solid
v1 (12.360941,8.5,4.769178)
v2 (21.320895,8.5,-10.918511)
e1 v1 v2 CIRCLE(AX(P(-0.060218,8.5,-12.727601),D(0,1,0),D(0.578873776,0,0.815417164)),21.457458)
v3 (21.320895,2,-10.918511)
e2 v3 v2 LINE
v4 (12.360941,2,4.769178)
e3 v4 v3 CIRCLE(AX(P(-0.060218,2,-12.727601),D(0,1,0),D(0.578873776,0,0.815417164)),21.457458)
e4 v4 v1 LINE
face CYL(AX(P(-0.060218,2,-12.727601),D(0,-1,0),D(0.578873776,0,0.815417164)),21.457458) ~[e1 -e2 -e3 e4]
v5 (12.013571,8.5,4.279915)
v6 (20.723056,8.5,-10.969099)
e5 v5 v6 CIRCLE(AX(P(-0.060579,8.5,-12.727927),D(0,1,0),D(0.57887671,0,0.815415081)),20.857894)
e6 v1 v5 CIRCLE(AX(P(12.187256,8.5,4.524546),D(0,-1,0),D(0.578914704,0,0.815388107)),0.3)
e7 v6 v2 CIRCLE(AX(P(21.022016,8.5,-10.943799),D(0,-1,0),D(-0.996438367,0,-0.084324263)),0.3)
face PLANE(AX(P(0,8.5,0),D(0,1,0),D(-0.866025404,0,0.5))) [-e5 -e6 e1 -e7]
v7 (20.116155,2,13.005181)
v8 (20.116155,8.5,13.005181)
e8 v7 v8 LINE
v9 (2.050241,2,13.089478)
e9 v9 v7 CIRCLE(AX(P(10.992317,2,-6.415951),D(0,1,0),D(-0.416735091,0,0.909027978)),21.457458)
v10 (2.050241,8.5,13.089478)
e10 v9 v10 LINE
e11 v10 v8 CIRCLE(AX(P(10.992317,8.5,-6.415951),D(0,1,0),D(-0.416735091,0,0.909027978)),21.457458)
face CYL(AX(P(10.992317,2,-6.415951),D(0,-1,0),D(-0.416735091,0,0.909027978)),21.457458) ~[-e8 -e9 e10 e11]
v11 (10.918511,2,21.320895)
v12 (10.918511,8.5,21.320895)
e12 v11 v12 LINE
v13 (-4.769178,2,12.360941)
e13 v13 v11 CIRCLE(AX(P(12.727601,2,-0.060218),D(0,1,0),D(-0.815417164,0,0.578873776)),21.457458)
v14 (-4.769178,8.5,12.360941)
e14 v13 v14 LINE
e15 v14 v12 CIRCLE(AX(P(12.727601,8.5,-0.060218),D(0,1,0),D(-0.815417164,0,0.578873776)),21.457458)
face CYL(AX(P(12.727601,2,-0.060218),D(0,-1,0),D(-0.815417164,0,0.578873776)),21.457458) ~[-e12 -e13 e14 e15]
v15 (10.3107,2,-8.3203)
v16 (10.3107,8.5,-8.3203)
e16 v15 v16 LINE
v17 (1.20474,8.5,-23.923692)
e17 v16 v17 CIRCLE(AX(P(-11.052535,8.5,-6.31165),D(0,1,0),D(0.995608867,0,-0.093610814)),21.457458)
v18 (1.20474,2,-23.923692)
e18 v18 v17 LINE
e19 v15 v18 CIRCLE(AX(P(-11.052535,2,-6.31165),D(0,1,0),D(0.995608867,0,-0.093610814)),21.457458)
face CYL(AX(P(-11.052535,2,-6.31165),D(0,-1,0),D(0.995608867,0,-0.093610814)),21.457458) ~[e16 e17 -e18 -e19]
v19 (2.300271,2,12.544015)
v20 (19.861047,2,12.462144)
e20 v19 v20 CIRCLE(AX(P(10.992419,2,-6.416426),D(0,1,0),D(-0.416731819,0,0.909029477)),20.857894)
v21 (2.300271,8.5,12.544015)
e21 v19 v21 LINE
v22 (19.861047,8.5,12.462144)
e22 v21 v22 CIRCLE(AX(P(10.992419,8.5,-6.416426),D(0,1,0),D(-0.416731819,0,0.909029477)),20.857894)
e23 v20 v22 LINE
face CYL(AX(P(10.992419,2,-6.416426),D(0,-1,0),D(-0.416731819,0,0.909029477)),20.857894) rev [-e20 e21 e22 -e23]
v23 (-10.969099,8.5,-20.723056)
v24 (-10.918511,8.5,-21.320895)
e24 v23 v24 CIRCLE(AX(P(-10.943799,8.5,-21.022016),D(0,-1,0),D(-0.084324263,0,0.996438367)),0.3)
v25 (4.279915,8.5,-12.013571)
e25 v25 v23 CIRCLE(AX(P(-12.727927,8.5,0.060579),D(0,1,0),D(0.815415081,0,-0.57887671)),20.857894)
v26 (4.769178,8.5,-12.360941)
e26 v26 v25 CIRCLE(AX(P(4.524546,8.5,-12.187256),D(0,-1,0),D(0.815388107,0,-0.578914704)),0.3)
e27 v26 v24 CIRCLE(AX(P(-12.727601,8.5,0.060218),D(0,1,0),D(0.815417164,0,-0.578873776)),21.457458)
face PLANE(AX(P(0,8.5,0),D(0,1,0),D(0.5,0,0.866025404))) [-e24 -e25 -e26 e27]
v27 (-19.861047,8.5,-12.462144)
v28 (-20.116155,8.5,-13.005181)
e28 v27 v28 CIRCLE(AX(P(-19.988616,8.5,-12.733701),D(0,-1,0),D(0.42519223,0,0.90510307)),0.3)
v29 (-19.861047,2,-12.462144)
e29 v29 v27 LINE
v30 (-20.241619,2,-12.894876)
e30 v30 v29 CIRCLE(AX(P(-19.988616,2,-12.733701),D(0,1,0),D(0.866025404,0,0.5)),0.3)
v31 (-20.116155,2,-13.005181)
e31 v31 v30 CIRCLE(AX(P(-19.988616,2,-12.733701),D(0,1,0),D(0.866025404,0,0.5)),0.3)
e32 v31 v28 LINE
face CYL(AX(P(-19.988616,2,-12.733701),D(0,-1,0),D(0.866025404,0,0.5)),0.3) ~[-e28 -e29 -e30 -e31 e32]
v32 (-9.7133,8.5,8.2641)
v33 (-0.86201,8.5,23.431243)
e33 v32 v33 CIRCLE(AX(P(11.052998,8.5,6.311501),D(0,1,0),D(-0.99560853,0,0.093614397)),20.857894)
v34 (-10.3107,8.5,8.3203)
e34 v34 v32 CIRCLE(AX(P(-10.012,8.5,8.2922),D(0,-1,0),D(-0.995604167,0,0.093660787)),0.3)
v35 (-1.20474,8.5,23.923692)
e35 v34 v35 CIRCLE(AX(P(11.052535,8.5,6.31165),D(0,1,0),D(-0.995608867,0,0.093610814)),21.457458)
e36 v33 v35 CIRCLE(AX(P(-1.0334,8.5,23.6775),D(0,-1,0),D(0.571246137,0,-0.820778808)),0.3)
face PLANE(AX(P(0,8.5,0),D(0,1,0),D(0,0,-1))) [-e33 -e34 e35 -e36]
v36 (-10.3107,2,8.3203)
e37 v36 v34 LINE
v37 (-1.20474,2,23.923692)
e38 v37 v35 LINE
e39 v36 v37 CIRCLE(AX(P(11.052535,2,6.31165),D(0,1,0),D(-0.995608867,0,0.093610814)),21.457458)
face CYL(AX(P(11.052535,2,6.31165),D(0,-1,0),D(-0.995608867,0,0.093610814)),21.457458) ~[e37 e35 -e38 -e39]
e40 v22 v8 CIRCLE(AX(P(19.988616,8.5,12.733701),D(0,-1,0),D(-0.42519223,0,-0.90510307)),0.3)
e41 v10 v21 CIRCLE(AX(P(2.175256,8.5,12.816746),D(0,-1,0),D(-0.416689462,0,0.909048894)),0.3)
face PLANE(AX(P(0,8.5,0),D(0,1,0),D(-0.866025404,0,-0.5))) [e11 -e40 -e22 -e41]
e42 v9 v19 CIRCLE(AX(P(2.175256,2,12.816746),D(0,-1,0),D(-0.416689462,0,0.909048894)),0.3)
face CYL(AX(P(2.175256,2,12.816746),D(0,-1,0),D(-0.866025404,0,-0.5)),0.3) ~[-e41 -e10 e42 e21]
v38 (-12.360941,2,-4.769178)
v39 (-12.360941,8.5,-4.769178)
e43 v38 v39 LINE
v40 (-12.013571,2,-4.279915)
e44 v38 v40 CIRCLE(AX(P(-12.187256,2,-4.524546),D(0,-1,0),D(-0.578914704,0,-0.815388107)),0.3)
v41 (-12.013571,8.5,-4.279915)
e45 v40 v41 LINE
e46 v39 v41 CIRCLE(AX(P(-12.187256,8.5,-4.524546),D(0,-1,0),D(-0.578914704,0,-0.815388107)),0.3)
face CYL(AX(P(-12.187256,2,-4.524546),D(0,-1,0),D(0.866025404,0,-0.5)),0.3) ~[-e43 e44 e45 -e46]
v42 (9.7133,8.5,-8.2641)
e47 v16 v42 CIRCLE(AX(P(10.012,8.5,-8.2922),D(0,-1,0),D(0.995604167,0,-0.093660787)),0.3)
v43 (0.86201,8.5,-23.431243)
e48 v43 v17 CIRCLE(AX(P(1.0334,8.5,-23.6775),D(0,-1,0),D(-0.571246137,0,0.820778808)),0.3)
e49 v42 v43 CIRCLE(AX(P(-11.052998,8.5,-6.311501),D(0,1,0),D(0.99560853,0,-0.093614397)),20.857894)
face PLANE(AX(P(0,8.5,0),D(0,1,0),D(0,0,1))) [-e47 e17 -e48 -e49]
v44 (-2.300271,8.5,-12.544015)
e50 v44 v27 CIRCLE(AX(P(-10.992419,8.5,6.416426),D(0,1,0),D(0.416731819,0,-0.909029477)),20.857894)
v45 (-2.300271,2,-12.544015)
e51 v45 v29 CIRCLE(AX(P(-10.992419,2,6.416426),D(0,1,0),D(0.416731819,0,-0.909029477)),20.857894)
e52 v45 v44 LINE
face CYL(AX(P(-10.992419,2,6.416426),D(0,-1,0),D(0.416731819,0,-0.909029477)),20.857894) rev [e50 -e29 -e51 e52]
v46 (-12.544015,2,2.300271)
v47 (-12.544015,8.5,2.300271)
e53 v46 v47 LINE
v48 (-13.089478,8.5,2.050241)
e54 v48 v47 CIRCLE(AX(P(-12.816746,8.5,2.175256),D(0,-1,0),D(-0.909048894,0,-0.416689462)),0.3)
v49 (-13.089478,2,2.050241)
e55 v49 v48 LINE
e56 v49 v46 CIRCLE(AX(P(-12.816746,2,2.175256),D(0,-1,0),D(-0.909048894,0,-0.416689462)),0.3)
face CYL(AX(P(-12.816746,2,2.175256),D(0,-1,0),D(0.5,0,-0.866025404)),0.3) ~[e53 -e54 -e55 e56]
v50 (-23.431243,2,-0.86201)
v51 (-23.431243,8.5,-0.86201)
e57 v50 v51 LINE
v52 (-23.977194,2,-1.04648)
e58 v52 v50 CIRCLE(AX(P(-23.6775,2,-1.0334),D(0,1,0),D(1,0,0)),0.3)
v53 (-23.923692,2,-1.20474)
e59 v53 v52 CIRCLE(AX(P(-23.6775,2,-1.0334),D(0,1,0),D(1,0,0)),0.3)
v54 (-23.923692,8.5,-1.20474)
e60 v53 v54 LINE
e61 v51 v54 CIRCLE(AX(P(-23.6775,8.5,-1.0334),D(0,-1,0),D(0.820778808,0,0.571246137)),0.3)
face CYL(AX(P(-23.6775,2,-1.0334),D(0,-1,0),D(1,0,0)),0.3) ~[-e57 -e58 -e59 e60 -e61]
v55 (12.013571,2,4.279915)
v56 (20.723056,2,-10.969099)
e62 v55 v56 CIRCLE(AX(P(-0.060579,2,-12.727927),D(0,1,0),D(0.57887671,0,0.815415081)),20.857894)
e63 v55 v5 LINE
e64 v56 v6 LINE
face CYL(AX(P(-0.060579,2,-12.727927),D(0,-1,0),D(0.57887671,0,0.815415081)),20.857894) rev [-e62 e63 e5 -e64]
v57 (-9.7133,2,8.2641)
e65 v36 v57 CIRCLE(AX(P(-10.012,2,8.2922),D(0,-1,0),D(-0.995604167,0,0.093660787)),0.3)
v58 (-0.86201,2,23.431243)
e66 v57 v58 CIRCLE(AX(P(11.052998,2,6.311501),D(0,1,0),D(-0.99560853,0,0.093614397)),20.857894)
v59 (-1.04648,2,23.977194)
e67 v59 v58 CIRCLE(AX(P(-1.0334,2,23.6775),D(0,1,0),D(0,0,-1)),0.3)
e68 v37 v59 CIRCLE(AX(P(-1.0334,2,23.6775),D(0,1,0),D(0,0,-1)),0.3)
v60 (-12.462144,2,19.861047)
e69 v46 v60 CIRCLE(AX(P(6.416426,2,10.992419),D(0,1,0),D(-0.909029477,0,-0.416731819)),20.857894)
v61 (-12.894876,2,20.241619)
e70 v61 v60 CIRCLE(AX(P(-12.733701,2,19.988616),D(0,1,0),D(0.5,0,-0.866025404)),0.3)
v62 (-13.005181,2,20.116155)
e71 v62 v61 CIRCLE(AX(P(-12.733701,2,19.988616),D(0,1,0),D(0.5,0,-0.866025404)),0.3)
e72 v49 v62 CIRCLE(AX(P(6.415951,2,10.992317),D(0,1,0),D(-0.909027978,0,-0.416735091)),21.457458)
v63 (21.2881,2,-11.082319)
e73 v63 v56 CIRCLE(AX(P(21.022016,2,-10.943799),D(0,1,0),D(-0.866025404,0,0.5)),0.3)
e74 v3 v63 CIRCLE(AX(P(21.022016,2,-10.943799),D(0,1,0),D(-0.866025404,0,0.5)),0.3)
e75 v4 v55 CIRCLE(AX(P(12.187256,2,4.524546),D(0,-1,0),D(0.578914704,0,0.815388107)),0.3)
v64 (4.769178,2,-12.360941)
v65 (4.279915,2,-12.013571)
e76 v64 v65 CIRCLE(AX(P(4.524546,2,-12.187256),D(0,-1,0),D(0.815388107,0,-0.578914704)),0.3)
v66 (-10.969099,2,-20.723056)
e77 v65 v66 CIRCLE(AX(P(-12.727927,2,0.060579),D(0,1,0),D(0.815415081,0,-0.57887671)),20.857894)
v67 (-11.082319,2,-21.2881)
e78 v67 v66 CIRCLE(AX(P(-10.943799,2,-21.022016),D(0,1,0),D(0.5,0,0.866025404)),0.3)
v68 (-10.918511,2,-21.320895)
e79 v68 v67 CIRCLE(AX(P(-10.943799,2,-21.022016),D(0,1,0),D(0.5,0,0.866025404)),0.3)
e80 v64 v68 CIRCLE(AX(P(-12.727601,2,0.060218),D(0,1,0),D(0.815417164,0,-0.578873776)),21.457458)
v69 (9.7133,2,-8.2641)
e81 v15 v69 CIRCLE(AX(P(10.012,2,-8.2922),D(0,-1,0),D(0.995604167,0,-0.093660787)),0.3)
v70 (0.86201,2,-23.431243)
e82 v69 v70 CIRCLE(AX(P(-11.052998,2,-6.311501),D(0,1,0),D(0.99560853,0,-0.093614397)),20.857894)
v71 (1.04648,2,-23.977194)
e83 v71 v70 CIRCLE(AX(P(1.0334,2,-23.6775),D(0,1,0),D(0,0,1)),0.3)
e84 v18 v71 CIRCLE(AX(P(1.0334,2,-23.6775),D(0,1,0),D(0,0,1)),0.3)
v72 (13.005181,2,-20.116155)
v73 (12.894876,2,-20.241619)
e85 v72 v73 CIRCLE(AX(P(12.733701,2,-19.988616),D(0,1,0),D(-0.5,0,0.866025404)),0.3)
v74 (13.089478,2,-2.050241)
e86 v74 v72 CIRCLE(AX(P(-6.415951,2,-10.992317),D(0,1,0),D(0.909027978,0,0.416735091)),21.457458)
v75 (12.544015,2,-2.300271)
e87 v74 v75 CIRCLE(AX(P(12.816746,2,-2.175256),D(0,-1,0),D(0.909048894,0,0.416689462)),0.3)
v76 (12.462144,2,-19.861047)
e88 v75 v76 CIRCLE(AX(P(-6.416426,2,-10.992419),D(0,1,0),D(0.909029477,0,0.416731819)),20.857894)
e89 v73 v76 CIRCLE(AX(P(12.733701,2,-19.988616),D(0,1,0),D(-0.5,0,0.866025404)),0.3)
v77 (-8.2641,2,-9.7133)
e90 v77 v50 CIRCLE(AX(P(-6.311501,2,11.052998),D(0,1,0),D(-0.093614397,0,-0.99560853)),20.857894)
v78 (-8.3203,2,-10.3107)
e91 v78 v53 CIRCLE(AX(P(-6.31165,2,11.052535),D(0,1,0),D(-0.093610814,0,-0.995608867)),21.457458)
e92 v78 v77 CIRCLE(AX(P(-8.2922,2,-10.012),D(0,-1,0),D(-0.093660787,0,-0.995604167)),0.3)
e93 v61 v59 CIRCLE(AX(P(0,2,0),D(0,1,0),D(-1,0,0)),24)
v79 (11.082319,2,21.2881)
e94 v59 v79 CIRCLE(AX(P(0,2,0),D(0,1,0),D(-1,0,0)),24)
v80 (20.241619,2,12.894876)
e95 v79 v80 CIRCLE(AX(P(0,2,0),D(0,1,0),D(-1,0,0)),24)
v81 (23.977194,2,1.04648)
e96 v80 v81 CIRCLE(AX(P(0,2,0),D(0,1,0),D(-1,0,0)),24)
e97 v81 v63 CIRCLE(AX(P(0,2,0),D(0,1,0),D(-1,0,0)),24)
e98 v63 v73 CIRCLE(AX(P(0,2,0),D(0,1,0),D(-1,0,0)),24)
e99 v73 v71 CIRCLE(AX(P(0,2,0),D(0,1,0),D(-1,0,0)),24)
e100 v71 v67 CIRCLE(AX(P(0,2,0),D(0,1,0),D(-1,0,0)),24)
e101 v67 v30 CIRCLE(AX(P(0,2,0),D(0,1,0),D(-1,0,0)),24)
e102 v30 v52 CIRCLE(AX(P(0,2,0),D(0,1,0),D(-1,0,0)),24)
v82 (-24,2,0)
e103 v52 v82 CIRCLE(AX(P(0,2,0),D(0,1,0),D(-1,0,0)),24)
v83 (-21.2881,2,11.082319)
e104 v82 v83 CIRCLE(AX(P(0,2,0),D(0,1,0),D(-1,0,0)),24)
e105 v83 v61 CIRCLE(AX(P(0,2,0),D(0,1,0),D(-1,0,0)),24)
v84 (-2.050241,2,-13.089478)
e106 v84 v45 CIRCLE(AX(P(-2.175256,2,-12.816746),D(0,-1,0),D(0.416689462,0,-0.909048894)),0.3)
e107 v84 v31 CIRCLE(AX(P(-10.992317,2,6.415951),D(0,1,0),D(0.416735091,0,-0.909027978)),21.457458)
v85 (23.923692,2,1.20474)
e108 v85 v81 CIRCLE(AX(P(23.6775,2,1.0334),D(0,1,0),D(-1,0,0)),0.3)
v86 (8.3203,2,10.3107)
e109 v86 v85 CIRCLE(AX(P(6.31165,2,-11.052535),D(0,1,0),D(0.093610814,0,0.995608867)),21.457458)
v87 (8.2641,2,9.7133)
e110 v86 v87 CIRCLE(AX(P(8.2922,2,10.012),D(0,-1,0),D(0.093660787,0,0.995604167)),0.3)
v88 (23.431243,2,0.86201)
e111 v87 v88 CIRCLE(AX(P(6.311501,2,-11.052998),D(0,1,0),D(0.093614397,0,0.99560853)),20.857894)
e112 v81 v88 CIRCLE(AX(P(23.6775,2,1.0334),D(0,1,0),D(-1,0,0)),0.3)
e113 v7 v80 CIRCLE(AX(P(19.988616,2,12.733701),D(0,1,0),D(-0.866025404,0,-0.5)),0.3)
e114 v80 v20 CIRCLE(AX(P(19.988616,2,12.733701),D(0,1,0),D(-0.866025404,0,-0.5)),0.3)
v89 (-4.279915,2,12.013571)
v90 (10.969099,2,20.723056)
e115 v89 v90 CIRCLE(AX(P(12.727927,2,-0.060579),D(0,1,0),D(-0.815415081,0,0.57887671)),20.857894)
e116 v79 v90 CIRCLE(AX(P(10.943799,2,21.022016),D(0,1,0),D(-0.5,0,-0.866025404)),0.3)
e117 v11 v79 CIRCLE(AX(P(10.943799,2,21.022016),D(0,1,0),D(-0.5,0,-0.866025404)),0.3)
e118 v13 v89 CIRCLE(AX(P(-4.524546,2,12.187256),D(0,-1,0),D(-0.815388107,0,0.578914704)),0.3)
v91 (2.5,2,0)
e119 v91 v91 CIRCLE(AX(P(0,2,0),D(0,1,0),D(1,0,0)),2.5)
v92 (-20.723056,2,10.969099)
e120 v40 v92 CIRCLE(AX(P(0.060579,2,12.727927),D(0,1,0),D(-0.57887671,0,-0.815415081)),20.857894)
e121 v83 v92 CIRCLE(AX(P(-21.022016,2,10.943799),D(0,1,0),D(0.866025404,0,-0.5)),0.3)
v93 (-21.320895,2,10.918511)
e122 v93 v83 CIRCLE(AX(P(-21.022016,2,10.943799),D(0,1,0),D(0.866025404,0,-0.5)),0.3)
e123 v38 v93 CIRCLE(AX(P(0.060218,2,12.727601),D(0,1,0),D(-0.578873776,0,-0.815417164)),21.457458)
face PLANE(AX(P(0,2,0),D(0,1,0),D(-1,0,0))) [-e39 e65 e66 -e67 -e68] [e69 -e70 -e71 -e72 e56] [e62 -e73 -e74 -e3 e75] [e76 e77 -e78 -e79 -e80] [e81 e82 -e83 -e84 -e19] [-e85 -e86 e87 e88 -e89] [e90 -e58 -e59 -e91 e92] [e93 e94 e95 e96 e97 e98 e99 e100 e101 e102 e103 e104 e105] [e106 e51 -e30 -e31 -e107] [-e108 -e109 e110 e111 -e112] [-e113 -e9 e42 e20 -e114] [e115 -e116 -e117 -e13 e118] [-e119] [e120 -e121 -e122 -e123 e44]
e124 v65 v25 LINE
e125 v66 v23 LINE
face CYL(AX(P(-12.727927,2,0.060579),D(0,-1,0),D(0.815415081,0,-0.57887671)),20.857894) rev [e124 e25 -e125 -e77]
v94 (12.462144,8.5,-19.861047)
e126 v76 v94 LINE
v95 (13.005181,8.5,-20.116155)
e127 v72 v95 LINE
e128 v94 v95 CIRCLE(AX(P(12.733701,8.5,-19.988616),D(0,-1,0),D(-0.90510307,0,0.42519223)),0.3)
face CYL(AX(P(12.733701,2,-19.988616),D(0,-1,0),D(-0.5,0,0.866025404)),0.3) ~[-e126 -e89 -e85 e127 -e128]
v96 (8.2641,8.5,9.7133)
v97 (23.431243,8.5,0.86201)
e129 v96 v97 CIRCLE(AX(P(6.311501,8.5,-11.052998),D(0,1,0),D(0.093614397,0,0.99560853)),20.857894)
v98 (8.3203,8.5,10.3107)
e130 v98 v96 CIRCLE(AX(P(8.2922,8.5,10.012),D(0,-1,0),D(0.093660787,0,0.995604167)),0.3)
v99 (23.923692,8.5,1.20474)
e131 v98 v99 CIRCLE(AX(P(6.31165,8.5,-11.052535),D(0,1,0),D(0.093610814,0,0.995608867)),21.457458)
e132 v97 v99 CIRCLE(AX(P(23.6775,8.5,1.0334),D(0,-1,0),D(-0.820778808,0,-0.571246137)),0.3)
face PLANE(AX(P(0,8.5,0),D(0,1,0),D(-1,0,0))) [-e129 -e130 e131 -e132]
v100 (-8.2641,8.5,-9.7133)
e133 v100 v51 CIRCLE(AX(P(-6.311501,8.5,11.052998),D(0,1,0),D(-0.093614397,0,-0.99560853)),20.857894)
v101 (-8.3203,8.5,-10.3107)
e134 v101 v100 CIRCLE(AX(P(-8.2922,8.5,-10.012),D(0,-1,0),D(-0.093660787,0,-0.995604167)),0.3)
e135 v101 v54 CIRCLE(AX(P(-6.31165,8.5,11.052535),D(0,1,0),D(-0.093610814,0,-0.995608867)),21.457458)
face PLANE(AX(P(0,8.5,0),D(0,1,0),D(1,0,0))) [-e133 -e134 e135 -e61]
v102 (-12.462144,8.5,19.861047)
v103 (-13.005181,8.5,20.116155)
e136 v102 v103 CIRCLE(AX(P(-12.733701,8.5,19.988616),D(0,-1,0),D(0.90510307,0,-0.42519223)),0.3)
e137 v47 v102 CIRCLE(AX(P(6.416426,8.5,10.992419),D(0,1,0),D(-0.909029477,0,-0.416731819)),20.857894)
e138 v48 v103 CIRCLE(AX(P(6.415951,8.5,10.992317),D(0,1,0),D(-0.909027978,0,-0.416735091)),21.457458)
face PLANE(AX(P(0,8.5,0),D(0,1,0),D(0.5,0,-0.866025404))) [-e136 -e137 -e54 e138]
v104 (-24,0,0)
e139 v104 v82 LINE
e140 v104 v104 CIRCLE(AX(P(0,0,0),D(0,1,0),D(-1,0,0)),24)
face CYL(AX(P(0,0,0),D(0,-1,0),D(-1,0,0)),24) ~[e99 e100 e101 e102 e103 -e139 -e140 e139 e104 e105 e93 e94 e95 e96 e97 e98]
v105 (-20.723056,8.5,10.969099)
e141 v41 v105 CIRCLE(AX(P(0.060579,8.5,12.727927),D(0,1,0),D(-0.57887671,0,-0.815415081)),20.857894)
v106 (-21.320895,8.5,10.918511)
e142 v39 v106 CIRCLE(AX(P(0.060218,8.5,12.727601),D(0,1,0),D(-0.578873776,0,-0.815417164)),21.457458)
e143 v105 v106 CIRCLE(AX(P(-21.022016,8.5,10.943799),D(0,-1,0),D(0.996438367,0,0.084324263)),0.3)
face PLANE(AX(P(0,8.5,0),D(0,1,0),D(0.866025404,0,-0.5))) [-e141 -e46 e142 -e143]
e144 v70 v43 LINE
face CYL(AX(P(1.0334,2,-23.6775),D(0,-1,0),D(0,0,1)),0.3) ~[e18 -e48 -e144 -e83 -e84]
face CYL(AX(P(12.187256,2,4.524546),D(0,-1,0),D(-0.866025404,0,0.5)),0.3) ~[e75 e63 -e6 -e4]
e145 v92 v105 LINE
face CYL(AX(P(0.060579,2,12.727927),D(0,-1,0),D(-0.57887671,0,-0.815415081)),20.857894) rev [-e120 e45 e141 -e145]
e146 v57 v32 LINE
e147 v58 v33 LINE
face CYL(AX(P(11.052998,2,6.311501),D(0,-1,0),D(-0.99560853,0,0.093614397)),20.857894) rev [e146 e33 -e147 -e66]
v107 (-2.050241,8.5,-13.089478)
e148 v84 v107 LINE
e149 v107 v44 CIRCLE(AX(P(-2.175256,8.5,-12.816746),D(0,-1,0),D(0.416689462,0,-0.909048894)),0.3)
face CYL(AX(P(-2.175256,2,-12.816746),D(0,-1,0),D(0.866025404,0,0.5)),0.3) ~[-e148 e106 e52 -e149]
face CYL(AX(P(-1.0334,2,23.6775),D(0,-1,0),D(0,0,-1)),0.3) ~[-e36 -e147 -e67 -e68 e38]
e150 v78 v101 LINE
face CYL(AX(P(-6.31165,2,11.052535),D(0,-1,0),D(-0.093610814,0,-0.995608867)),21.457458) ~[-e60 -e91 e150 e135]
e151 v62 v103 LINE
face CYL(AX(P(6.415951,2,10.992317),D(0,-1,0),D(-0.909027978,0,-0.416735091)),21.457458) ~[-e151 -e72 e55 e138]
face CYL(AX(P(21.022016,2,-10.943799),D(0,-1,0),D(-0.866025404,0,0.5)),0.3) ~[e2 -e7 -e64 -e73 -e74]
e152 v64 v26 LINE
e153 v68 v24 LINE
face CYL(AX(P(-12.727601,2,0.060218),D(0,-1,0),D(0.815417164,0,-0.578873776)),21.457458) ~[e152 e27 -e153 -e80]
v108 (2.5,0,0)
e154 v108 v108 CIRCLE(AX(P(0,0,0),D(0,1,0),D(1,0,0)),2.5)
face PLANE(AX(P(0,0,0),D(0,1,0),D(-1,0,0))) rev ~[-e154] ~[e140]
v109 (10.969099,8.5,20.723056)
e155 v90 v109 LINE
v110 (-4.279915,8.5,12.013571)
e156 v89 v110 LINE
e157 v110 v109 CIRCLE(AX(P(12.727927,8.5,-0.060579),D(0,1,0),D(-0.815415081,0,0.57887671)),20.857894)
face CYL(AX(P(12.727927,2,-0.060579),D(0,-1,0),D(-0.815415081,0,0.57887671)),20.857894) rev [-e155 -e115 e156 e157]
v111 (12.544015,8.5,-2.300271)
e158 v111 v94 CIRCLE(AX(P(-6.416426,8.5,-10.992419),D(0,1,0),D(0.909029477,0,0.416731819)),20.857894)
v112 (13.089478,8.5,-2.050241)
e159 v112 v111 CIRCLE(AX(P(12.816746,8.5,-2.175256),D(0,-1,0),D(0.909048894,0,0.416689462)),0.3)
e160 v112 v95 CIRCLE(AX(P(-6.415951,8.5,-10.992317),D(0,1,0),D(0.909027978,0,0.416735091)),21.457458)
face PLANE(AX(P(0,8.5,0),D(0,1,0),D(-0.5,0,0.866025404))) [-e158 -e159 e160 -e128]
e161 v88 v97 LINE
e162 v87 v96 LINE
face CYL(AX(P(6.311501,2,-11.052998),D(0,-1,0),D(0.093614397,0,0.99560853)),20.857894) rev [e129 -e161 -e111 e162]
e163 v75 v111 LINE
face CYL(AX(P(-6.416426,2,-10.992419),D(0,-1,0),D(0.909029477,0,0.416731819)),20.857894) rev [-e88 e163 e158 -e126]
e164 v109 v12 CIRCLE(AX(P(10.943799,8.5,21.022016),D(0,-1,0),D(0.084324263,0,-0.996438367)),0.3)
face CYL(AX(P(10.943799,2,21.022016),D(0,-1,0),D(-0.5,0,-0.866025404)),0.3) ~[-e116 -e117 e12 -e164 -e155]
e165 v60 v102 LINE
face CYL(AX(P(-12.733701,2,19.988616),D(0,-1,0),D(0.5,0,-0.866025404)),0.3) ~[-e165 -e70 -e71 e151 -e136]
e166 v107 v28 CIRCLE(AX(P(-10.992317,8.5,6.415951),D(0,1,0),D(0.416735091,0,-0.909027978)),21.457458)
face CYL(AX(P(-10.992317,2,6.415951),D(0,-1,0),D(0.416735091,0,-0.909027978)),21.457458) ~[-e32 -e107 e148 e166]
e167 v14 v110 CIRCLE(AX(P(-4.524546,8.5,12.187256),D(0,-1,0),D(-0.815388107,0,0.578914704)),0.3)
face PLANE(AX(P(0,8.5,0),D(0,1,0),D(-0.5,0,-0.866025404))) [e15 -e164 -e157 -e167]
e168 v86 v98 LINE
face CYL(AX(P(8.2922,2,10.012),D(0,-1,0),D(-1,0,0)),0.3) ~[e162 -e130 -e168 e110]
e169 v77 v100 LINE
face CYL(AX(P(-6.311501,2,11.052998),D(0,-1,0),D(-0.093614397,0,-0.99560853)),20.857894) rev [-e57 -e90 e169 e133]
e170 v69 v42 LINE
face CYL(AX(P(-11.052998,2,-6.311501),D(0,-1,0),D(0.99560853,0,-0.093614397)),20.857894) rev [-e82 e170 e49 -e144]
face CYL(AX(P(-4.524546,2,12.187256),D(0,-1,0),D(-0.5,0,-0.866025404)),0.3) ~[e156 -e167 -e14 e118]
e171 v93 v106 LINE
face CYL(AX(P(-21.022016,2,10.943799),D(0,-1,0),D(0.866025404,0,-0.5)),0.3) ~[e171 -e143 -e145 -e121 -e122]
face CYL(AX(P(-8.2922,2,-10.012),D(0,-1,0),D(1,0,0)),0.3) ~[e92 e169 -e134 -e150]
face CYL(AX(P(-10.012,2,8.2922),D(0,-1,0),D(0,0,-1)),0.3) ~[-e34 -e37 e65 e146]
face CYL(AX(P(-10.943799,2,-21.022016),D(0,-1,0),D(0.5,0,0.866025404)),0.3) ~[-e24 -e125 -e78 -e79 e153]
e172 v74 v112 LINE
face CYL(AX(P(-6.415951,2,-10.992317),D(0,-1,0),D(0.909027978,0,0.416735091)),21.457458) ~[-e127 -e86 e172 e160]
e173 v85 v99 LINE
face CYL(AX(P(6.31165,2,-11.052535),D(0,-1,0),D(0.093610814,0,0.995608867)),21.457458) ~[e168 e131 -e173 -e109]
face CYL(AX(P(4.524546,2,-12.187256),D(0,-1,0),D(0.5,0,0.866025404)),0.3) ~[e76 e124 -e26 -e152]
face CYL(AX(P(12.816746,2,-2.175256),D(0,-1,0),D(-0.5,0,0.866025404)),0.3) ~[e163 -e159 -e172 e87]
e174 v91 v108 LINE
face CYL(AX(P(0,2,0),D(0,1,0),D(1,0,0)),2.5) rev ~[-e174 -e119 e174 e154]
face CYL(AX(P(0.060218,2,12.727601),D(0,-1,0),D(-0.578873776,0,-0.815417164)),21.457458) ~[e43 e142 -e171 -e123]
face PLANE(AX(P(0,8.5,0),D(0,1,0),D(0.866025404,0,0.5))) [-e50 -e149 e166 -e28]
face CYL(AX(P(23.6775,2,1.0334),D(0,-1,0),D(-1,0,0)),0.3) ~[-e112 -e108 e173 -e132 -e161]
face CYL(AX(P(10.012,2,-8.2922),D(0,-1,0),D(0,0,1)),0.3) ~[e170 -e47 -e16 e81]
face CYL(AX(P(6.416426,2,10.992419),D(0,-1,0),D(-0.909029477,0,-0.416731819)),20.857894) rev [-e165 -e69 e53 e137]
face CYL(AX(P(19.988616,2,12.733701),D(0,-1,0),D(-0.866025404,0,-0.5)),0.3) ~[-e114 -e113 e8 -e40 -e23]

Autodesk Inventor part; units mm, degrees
ref_plane "YZ Plane" through (0, 0, 0) normal (1, 0, 0) x (0, 1, 0)
ref_plane "XZ Plane" through (0, 0, 0) normal (0, 1, 0) x (-1, 0, 0)
ref_plane "XY Plane" through (0, 0, 0) normal (0, 0, 1) x (1, 0, 0)
sketch "Sketch1" plane through (0, 0, 0) normal (0, 1, 0) x (-1, 0, 0)
  circle A0 centre (0, 0) radius 24
  dimension "d0" = 48
extrude "Extrusion1" add sketch "Sketch1" along normal blind 2
sketch "Sketch2" plane through (0, 2, 0) normal (0, 1, 0) x (1, 0, 0)
  circle A0 centre (0, 0) radius 24 projected
  circle A1 centre (0, 0) radius 13 construction
  line L0 (0, 0) -> (-24, 0)
  circle A2 centre (0, 0) radius 24 projected
  line L1 (0, 0) -> (-4.9958, 12.0017) construction
  line L2 (-4.9958, 12.0017) -> (-24, 0) construction
  line L3 (-8.6898, 9.6689) -> (0, 0) construction
  line L4 (-8.6898, 9.6689) -> (-6.3115, -11.053) construction
  line L5 (-24, 0) -> (-6.3115, -11.053) construction
  arc A3 (-8.2641, 9.7133) -> (-24, 0) centre (-6.3115, -11.053) ccw
  arc A4 (-8.3203, 10.3107) -> (-23.9732, 1.1332) centre (-6.3115, -11.053) ccw
  circle A5 centre (-23.6775, 1.0334) radius 0.3
  circle A6 centre (-8.2922, 10.012) radius 0.3
  point P0 (-23.4312, 0.862)
  point P1 (-23.9237, 1.2047)
  dimension "d3" = 26
  dimension "d4" = 67.4
  dimension "d6" = 35.4
  dimension "d7" = 32
  dimension "d8" = 0.6
extrude "Extrusion2" add sketch "Sketch2" along normal blind 6.5 contours A5 | A4 A6 A3 A5 | A6
pattern_circular "Circular Pattern1" count 12 over 360 about axis through (0, -10, 0) along (0, 1, 0) of "Extrusion2"
sketch "Sketch3" plane through (0, 2, 0) normal (0, 1, 0) x (1, 0, 0)
  circle A0 centre (0, 0) radius 2.5
  dimension "d14" = 5
extrude "Extrusion3" cut sketch "Sketch3" against normal through all
properties part number "Rodete_4000RPM_2LS"
